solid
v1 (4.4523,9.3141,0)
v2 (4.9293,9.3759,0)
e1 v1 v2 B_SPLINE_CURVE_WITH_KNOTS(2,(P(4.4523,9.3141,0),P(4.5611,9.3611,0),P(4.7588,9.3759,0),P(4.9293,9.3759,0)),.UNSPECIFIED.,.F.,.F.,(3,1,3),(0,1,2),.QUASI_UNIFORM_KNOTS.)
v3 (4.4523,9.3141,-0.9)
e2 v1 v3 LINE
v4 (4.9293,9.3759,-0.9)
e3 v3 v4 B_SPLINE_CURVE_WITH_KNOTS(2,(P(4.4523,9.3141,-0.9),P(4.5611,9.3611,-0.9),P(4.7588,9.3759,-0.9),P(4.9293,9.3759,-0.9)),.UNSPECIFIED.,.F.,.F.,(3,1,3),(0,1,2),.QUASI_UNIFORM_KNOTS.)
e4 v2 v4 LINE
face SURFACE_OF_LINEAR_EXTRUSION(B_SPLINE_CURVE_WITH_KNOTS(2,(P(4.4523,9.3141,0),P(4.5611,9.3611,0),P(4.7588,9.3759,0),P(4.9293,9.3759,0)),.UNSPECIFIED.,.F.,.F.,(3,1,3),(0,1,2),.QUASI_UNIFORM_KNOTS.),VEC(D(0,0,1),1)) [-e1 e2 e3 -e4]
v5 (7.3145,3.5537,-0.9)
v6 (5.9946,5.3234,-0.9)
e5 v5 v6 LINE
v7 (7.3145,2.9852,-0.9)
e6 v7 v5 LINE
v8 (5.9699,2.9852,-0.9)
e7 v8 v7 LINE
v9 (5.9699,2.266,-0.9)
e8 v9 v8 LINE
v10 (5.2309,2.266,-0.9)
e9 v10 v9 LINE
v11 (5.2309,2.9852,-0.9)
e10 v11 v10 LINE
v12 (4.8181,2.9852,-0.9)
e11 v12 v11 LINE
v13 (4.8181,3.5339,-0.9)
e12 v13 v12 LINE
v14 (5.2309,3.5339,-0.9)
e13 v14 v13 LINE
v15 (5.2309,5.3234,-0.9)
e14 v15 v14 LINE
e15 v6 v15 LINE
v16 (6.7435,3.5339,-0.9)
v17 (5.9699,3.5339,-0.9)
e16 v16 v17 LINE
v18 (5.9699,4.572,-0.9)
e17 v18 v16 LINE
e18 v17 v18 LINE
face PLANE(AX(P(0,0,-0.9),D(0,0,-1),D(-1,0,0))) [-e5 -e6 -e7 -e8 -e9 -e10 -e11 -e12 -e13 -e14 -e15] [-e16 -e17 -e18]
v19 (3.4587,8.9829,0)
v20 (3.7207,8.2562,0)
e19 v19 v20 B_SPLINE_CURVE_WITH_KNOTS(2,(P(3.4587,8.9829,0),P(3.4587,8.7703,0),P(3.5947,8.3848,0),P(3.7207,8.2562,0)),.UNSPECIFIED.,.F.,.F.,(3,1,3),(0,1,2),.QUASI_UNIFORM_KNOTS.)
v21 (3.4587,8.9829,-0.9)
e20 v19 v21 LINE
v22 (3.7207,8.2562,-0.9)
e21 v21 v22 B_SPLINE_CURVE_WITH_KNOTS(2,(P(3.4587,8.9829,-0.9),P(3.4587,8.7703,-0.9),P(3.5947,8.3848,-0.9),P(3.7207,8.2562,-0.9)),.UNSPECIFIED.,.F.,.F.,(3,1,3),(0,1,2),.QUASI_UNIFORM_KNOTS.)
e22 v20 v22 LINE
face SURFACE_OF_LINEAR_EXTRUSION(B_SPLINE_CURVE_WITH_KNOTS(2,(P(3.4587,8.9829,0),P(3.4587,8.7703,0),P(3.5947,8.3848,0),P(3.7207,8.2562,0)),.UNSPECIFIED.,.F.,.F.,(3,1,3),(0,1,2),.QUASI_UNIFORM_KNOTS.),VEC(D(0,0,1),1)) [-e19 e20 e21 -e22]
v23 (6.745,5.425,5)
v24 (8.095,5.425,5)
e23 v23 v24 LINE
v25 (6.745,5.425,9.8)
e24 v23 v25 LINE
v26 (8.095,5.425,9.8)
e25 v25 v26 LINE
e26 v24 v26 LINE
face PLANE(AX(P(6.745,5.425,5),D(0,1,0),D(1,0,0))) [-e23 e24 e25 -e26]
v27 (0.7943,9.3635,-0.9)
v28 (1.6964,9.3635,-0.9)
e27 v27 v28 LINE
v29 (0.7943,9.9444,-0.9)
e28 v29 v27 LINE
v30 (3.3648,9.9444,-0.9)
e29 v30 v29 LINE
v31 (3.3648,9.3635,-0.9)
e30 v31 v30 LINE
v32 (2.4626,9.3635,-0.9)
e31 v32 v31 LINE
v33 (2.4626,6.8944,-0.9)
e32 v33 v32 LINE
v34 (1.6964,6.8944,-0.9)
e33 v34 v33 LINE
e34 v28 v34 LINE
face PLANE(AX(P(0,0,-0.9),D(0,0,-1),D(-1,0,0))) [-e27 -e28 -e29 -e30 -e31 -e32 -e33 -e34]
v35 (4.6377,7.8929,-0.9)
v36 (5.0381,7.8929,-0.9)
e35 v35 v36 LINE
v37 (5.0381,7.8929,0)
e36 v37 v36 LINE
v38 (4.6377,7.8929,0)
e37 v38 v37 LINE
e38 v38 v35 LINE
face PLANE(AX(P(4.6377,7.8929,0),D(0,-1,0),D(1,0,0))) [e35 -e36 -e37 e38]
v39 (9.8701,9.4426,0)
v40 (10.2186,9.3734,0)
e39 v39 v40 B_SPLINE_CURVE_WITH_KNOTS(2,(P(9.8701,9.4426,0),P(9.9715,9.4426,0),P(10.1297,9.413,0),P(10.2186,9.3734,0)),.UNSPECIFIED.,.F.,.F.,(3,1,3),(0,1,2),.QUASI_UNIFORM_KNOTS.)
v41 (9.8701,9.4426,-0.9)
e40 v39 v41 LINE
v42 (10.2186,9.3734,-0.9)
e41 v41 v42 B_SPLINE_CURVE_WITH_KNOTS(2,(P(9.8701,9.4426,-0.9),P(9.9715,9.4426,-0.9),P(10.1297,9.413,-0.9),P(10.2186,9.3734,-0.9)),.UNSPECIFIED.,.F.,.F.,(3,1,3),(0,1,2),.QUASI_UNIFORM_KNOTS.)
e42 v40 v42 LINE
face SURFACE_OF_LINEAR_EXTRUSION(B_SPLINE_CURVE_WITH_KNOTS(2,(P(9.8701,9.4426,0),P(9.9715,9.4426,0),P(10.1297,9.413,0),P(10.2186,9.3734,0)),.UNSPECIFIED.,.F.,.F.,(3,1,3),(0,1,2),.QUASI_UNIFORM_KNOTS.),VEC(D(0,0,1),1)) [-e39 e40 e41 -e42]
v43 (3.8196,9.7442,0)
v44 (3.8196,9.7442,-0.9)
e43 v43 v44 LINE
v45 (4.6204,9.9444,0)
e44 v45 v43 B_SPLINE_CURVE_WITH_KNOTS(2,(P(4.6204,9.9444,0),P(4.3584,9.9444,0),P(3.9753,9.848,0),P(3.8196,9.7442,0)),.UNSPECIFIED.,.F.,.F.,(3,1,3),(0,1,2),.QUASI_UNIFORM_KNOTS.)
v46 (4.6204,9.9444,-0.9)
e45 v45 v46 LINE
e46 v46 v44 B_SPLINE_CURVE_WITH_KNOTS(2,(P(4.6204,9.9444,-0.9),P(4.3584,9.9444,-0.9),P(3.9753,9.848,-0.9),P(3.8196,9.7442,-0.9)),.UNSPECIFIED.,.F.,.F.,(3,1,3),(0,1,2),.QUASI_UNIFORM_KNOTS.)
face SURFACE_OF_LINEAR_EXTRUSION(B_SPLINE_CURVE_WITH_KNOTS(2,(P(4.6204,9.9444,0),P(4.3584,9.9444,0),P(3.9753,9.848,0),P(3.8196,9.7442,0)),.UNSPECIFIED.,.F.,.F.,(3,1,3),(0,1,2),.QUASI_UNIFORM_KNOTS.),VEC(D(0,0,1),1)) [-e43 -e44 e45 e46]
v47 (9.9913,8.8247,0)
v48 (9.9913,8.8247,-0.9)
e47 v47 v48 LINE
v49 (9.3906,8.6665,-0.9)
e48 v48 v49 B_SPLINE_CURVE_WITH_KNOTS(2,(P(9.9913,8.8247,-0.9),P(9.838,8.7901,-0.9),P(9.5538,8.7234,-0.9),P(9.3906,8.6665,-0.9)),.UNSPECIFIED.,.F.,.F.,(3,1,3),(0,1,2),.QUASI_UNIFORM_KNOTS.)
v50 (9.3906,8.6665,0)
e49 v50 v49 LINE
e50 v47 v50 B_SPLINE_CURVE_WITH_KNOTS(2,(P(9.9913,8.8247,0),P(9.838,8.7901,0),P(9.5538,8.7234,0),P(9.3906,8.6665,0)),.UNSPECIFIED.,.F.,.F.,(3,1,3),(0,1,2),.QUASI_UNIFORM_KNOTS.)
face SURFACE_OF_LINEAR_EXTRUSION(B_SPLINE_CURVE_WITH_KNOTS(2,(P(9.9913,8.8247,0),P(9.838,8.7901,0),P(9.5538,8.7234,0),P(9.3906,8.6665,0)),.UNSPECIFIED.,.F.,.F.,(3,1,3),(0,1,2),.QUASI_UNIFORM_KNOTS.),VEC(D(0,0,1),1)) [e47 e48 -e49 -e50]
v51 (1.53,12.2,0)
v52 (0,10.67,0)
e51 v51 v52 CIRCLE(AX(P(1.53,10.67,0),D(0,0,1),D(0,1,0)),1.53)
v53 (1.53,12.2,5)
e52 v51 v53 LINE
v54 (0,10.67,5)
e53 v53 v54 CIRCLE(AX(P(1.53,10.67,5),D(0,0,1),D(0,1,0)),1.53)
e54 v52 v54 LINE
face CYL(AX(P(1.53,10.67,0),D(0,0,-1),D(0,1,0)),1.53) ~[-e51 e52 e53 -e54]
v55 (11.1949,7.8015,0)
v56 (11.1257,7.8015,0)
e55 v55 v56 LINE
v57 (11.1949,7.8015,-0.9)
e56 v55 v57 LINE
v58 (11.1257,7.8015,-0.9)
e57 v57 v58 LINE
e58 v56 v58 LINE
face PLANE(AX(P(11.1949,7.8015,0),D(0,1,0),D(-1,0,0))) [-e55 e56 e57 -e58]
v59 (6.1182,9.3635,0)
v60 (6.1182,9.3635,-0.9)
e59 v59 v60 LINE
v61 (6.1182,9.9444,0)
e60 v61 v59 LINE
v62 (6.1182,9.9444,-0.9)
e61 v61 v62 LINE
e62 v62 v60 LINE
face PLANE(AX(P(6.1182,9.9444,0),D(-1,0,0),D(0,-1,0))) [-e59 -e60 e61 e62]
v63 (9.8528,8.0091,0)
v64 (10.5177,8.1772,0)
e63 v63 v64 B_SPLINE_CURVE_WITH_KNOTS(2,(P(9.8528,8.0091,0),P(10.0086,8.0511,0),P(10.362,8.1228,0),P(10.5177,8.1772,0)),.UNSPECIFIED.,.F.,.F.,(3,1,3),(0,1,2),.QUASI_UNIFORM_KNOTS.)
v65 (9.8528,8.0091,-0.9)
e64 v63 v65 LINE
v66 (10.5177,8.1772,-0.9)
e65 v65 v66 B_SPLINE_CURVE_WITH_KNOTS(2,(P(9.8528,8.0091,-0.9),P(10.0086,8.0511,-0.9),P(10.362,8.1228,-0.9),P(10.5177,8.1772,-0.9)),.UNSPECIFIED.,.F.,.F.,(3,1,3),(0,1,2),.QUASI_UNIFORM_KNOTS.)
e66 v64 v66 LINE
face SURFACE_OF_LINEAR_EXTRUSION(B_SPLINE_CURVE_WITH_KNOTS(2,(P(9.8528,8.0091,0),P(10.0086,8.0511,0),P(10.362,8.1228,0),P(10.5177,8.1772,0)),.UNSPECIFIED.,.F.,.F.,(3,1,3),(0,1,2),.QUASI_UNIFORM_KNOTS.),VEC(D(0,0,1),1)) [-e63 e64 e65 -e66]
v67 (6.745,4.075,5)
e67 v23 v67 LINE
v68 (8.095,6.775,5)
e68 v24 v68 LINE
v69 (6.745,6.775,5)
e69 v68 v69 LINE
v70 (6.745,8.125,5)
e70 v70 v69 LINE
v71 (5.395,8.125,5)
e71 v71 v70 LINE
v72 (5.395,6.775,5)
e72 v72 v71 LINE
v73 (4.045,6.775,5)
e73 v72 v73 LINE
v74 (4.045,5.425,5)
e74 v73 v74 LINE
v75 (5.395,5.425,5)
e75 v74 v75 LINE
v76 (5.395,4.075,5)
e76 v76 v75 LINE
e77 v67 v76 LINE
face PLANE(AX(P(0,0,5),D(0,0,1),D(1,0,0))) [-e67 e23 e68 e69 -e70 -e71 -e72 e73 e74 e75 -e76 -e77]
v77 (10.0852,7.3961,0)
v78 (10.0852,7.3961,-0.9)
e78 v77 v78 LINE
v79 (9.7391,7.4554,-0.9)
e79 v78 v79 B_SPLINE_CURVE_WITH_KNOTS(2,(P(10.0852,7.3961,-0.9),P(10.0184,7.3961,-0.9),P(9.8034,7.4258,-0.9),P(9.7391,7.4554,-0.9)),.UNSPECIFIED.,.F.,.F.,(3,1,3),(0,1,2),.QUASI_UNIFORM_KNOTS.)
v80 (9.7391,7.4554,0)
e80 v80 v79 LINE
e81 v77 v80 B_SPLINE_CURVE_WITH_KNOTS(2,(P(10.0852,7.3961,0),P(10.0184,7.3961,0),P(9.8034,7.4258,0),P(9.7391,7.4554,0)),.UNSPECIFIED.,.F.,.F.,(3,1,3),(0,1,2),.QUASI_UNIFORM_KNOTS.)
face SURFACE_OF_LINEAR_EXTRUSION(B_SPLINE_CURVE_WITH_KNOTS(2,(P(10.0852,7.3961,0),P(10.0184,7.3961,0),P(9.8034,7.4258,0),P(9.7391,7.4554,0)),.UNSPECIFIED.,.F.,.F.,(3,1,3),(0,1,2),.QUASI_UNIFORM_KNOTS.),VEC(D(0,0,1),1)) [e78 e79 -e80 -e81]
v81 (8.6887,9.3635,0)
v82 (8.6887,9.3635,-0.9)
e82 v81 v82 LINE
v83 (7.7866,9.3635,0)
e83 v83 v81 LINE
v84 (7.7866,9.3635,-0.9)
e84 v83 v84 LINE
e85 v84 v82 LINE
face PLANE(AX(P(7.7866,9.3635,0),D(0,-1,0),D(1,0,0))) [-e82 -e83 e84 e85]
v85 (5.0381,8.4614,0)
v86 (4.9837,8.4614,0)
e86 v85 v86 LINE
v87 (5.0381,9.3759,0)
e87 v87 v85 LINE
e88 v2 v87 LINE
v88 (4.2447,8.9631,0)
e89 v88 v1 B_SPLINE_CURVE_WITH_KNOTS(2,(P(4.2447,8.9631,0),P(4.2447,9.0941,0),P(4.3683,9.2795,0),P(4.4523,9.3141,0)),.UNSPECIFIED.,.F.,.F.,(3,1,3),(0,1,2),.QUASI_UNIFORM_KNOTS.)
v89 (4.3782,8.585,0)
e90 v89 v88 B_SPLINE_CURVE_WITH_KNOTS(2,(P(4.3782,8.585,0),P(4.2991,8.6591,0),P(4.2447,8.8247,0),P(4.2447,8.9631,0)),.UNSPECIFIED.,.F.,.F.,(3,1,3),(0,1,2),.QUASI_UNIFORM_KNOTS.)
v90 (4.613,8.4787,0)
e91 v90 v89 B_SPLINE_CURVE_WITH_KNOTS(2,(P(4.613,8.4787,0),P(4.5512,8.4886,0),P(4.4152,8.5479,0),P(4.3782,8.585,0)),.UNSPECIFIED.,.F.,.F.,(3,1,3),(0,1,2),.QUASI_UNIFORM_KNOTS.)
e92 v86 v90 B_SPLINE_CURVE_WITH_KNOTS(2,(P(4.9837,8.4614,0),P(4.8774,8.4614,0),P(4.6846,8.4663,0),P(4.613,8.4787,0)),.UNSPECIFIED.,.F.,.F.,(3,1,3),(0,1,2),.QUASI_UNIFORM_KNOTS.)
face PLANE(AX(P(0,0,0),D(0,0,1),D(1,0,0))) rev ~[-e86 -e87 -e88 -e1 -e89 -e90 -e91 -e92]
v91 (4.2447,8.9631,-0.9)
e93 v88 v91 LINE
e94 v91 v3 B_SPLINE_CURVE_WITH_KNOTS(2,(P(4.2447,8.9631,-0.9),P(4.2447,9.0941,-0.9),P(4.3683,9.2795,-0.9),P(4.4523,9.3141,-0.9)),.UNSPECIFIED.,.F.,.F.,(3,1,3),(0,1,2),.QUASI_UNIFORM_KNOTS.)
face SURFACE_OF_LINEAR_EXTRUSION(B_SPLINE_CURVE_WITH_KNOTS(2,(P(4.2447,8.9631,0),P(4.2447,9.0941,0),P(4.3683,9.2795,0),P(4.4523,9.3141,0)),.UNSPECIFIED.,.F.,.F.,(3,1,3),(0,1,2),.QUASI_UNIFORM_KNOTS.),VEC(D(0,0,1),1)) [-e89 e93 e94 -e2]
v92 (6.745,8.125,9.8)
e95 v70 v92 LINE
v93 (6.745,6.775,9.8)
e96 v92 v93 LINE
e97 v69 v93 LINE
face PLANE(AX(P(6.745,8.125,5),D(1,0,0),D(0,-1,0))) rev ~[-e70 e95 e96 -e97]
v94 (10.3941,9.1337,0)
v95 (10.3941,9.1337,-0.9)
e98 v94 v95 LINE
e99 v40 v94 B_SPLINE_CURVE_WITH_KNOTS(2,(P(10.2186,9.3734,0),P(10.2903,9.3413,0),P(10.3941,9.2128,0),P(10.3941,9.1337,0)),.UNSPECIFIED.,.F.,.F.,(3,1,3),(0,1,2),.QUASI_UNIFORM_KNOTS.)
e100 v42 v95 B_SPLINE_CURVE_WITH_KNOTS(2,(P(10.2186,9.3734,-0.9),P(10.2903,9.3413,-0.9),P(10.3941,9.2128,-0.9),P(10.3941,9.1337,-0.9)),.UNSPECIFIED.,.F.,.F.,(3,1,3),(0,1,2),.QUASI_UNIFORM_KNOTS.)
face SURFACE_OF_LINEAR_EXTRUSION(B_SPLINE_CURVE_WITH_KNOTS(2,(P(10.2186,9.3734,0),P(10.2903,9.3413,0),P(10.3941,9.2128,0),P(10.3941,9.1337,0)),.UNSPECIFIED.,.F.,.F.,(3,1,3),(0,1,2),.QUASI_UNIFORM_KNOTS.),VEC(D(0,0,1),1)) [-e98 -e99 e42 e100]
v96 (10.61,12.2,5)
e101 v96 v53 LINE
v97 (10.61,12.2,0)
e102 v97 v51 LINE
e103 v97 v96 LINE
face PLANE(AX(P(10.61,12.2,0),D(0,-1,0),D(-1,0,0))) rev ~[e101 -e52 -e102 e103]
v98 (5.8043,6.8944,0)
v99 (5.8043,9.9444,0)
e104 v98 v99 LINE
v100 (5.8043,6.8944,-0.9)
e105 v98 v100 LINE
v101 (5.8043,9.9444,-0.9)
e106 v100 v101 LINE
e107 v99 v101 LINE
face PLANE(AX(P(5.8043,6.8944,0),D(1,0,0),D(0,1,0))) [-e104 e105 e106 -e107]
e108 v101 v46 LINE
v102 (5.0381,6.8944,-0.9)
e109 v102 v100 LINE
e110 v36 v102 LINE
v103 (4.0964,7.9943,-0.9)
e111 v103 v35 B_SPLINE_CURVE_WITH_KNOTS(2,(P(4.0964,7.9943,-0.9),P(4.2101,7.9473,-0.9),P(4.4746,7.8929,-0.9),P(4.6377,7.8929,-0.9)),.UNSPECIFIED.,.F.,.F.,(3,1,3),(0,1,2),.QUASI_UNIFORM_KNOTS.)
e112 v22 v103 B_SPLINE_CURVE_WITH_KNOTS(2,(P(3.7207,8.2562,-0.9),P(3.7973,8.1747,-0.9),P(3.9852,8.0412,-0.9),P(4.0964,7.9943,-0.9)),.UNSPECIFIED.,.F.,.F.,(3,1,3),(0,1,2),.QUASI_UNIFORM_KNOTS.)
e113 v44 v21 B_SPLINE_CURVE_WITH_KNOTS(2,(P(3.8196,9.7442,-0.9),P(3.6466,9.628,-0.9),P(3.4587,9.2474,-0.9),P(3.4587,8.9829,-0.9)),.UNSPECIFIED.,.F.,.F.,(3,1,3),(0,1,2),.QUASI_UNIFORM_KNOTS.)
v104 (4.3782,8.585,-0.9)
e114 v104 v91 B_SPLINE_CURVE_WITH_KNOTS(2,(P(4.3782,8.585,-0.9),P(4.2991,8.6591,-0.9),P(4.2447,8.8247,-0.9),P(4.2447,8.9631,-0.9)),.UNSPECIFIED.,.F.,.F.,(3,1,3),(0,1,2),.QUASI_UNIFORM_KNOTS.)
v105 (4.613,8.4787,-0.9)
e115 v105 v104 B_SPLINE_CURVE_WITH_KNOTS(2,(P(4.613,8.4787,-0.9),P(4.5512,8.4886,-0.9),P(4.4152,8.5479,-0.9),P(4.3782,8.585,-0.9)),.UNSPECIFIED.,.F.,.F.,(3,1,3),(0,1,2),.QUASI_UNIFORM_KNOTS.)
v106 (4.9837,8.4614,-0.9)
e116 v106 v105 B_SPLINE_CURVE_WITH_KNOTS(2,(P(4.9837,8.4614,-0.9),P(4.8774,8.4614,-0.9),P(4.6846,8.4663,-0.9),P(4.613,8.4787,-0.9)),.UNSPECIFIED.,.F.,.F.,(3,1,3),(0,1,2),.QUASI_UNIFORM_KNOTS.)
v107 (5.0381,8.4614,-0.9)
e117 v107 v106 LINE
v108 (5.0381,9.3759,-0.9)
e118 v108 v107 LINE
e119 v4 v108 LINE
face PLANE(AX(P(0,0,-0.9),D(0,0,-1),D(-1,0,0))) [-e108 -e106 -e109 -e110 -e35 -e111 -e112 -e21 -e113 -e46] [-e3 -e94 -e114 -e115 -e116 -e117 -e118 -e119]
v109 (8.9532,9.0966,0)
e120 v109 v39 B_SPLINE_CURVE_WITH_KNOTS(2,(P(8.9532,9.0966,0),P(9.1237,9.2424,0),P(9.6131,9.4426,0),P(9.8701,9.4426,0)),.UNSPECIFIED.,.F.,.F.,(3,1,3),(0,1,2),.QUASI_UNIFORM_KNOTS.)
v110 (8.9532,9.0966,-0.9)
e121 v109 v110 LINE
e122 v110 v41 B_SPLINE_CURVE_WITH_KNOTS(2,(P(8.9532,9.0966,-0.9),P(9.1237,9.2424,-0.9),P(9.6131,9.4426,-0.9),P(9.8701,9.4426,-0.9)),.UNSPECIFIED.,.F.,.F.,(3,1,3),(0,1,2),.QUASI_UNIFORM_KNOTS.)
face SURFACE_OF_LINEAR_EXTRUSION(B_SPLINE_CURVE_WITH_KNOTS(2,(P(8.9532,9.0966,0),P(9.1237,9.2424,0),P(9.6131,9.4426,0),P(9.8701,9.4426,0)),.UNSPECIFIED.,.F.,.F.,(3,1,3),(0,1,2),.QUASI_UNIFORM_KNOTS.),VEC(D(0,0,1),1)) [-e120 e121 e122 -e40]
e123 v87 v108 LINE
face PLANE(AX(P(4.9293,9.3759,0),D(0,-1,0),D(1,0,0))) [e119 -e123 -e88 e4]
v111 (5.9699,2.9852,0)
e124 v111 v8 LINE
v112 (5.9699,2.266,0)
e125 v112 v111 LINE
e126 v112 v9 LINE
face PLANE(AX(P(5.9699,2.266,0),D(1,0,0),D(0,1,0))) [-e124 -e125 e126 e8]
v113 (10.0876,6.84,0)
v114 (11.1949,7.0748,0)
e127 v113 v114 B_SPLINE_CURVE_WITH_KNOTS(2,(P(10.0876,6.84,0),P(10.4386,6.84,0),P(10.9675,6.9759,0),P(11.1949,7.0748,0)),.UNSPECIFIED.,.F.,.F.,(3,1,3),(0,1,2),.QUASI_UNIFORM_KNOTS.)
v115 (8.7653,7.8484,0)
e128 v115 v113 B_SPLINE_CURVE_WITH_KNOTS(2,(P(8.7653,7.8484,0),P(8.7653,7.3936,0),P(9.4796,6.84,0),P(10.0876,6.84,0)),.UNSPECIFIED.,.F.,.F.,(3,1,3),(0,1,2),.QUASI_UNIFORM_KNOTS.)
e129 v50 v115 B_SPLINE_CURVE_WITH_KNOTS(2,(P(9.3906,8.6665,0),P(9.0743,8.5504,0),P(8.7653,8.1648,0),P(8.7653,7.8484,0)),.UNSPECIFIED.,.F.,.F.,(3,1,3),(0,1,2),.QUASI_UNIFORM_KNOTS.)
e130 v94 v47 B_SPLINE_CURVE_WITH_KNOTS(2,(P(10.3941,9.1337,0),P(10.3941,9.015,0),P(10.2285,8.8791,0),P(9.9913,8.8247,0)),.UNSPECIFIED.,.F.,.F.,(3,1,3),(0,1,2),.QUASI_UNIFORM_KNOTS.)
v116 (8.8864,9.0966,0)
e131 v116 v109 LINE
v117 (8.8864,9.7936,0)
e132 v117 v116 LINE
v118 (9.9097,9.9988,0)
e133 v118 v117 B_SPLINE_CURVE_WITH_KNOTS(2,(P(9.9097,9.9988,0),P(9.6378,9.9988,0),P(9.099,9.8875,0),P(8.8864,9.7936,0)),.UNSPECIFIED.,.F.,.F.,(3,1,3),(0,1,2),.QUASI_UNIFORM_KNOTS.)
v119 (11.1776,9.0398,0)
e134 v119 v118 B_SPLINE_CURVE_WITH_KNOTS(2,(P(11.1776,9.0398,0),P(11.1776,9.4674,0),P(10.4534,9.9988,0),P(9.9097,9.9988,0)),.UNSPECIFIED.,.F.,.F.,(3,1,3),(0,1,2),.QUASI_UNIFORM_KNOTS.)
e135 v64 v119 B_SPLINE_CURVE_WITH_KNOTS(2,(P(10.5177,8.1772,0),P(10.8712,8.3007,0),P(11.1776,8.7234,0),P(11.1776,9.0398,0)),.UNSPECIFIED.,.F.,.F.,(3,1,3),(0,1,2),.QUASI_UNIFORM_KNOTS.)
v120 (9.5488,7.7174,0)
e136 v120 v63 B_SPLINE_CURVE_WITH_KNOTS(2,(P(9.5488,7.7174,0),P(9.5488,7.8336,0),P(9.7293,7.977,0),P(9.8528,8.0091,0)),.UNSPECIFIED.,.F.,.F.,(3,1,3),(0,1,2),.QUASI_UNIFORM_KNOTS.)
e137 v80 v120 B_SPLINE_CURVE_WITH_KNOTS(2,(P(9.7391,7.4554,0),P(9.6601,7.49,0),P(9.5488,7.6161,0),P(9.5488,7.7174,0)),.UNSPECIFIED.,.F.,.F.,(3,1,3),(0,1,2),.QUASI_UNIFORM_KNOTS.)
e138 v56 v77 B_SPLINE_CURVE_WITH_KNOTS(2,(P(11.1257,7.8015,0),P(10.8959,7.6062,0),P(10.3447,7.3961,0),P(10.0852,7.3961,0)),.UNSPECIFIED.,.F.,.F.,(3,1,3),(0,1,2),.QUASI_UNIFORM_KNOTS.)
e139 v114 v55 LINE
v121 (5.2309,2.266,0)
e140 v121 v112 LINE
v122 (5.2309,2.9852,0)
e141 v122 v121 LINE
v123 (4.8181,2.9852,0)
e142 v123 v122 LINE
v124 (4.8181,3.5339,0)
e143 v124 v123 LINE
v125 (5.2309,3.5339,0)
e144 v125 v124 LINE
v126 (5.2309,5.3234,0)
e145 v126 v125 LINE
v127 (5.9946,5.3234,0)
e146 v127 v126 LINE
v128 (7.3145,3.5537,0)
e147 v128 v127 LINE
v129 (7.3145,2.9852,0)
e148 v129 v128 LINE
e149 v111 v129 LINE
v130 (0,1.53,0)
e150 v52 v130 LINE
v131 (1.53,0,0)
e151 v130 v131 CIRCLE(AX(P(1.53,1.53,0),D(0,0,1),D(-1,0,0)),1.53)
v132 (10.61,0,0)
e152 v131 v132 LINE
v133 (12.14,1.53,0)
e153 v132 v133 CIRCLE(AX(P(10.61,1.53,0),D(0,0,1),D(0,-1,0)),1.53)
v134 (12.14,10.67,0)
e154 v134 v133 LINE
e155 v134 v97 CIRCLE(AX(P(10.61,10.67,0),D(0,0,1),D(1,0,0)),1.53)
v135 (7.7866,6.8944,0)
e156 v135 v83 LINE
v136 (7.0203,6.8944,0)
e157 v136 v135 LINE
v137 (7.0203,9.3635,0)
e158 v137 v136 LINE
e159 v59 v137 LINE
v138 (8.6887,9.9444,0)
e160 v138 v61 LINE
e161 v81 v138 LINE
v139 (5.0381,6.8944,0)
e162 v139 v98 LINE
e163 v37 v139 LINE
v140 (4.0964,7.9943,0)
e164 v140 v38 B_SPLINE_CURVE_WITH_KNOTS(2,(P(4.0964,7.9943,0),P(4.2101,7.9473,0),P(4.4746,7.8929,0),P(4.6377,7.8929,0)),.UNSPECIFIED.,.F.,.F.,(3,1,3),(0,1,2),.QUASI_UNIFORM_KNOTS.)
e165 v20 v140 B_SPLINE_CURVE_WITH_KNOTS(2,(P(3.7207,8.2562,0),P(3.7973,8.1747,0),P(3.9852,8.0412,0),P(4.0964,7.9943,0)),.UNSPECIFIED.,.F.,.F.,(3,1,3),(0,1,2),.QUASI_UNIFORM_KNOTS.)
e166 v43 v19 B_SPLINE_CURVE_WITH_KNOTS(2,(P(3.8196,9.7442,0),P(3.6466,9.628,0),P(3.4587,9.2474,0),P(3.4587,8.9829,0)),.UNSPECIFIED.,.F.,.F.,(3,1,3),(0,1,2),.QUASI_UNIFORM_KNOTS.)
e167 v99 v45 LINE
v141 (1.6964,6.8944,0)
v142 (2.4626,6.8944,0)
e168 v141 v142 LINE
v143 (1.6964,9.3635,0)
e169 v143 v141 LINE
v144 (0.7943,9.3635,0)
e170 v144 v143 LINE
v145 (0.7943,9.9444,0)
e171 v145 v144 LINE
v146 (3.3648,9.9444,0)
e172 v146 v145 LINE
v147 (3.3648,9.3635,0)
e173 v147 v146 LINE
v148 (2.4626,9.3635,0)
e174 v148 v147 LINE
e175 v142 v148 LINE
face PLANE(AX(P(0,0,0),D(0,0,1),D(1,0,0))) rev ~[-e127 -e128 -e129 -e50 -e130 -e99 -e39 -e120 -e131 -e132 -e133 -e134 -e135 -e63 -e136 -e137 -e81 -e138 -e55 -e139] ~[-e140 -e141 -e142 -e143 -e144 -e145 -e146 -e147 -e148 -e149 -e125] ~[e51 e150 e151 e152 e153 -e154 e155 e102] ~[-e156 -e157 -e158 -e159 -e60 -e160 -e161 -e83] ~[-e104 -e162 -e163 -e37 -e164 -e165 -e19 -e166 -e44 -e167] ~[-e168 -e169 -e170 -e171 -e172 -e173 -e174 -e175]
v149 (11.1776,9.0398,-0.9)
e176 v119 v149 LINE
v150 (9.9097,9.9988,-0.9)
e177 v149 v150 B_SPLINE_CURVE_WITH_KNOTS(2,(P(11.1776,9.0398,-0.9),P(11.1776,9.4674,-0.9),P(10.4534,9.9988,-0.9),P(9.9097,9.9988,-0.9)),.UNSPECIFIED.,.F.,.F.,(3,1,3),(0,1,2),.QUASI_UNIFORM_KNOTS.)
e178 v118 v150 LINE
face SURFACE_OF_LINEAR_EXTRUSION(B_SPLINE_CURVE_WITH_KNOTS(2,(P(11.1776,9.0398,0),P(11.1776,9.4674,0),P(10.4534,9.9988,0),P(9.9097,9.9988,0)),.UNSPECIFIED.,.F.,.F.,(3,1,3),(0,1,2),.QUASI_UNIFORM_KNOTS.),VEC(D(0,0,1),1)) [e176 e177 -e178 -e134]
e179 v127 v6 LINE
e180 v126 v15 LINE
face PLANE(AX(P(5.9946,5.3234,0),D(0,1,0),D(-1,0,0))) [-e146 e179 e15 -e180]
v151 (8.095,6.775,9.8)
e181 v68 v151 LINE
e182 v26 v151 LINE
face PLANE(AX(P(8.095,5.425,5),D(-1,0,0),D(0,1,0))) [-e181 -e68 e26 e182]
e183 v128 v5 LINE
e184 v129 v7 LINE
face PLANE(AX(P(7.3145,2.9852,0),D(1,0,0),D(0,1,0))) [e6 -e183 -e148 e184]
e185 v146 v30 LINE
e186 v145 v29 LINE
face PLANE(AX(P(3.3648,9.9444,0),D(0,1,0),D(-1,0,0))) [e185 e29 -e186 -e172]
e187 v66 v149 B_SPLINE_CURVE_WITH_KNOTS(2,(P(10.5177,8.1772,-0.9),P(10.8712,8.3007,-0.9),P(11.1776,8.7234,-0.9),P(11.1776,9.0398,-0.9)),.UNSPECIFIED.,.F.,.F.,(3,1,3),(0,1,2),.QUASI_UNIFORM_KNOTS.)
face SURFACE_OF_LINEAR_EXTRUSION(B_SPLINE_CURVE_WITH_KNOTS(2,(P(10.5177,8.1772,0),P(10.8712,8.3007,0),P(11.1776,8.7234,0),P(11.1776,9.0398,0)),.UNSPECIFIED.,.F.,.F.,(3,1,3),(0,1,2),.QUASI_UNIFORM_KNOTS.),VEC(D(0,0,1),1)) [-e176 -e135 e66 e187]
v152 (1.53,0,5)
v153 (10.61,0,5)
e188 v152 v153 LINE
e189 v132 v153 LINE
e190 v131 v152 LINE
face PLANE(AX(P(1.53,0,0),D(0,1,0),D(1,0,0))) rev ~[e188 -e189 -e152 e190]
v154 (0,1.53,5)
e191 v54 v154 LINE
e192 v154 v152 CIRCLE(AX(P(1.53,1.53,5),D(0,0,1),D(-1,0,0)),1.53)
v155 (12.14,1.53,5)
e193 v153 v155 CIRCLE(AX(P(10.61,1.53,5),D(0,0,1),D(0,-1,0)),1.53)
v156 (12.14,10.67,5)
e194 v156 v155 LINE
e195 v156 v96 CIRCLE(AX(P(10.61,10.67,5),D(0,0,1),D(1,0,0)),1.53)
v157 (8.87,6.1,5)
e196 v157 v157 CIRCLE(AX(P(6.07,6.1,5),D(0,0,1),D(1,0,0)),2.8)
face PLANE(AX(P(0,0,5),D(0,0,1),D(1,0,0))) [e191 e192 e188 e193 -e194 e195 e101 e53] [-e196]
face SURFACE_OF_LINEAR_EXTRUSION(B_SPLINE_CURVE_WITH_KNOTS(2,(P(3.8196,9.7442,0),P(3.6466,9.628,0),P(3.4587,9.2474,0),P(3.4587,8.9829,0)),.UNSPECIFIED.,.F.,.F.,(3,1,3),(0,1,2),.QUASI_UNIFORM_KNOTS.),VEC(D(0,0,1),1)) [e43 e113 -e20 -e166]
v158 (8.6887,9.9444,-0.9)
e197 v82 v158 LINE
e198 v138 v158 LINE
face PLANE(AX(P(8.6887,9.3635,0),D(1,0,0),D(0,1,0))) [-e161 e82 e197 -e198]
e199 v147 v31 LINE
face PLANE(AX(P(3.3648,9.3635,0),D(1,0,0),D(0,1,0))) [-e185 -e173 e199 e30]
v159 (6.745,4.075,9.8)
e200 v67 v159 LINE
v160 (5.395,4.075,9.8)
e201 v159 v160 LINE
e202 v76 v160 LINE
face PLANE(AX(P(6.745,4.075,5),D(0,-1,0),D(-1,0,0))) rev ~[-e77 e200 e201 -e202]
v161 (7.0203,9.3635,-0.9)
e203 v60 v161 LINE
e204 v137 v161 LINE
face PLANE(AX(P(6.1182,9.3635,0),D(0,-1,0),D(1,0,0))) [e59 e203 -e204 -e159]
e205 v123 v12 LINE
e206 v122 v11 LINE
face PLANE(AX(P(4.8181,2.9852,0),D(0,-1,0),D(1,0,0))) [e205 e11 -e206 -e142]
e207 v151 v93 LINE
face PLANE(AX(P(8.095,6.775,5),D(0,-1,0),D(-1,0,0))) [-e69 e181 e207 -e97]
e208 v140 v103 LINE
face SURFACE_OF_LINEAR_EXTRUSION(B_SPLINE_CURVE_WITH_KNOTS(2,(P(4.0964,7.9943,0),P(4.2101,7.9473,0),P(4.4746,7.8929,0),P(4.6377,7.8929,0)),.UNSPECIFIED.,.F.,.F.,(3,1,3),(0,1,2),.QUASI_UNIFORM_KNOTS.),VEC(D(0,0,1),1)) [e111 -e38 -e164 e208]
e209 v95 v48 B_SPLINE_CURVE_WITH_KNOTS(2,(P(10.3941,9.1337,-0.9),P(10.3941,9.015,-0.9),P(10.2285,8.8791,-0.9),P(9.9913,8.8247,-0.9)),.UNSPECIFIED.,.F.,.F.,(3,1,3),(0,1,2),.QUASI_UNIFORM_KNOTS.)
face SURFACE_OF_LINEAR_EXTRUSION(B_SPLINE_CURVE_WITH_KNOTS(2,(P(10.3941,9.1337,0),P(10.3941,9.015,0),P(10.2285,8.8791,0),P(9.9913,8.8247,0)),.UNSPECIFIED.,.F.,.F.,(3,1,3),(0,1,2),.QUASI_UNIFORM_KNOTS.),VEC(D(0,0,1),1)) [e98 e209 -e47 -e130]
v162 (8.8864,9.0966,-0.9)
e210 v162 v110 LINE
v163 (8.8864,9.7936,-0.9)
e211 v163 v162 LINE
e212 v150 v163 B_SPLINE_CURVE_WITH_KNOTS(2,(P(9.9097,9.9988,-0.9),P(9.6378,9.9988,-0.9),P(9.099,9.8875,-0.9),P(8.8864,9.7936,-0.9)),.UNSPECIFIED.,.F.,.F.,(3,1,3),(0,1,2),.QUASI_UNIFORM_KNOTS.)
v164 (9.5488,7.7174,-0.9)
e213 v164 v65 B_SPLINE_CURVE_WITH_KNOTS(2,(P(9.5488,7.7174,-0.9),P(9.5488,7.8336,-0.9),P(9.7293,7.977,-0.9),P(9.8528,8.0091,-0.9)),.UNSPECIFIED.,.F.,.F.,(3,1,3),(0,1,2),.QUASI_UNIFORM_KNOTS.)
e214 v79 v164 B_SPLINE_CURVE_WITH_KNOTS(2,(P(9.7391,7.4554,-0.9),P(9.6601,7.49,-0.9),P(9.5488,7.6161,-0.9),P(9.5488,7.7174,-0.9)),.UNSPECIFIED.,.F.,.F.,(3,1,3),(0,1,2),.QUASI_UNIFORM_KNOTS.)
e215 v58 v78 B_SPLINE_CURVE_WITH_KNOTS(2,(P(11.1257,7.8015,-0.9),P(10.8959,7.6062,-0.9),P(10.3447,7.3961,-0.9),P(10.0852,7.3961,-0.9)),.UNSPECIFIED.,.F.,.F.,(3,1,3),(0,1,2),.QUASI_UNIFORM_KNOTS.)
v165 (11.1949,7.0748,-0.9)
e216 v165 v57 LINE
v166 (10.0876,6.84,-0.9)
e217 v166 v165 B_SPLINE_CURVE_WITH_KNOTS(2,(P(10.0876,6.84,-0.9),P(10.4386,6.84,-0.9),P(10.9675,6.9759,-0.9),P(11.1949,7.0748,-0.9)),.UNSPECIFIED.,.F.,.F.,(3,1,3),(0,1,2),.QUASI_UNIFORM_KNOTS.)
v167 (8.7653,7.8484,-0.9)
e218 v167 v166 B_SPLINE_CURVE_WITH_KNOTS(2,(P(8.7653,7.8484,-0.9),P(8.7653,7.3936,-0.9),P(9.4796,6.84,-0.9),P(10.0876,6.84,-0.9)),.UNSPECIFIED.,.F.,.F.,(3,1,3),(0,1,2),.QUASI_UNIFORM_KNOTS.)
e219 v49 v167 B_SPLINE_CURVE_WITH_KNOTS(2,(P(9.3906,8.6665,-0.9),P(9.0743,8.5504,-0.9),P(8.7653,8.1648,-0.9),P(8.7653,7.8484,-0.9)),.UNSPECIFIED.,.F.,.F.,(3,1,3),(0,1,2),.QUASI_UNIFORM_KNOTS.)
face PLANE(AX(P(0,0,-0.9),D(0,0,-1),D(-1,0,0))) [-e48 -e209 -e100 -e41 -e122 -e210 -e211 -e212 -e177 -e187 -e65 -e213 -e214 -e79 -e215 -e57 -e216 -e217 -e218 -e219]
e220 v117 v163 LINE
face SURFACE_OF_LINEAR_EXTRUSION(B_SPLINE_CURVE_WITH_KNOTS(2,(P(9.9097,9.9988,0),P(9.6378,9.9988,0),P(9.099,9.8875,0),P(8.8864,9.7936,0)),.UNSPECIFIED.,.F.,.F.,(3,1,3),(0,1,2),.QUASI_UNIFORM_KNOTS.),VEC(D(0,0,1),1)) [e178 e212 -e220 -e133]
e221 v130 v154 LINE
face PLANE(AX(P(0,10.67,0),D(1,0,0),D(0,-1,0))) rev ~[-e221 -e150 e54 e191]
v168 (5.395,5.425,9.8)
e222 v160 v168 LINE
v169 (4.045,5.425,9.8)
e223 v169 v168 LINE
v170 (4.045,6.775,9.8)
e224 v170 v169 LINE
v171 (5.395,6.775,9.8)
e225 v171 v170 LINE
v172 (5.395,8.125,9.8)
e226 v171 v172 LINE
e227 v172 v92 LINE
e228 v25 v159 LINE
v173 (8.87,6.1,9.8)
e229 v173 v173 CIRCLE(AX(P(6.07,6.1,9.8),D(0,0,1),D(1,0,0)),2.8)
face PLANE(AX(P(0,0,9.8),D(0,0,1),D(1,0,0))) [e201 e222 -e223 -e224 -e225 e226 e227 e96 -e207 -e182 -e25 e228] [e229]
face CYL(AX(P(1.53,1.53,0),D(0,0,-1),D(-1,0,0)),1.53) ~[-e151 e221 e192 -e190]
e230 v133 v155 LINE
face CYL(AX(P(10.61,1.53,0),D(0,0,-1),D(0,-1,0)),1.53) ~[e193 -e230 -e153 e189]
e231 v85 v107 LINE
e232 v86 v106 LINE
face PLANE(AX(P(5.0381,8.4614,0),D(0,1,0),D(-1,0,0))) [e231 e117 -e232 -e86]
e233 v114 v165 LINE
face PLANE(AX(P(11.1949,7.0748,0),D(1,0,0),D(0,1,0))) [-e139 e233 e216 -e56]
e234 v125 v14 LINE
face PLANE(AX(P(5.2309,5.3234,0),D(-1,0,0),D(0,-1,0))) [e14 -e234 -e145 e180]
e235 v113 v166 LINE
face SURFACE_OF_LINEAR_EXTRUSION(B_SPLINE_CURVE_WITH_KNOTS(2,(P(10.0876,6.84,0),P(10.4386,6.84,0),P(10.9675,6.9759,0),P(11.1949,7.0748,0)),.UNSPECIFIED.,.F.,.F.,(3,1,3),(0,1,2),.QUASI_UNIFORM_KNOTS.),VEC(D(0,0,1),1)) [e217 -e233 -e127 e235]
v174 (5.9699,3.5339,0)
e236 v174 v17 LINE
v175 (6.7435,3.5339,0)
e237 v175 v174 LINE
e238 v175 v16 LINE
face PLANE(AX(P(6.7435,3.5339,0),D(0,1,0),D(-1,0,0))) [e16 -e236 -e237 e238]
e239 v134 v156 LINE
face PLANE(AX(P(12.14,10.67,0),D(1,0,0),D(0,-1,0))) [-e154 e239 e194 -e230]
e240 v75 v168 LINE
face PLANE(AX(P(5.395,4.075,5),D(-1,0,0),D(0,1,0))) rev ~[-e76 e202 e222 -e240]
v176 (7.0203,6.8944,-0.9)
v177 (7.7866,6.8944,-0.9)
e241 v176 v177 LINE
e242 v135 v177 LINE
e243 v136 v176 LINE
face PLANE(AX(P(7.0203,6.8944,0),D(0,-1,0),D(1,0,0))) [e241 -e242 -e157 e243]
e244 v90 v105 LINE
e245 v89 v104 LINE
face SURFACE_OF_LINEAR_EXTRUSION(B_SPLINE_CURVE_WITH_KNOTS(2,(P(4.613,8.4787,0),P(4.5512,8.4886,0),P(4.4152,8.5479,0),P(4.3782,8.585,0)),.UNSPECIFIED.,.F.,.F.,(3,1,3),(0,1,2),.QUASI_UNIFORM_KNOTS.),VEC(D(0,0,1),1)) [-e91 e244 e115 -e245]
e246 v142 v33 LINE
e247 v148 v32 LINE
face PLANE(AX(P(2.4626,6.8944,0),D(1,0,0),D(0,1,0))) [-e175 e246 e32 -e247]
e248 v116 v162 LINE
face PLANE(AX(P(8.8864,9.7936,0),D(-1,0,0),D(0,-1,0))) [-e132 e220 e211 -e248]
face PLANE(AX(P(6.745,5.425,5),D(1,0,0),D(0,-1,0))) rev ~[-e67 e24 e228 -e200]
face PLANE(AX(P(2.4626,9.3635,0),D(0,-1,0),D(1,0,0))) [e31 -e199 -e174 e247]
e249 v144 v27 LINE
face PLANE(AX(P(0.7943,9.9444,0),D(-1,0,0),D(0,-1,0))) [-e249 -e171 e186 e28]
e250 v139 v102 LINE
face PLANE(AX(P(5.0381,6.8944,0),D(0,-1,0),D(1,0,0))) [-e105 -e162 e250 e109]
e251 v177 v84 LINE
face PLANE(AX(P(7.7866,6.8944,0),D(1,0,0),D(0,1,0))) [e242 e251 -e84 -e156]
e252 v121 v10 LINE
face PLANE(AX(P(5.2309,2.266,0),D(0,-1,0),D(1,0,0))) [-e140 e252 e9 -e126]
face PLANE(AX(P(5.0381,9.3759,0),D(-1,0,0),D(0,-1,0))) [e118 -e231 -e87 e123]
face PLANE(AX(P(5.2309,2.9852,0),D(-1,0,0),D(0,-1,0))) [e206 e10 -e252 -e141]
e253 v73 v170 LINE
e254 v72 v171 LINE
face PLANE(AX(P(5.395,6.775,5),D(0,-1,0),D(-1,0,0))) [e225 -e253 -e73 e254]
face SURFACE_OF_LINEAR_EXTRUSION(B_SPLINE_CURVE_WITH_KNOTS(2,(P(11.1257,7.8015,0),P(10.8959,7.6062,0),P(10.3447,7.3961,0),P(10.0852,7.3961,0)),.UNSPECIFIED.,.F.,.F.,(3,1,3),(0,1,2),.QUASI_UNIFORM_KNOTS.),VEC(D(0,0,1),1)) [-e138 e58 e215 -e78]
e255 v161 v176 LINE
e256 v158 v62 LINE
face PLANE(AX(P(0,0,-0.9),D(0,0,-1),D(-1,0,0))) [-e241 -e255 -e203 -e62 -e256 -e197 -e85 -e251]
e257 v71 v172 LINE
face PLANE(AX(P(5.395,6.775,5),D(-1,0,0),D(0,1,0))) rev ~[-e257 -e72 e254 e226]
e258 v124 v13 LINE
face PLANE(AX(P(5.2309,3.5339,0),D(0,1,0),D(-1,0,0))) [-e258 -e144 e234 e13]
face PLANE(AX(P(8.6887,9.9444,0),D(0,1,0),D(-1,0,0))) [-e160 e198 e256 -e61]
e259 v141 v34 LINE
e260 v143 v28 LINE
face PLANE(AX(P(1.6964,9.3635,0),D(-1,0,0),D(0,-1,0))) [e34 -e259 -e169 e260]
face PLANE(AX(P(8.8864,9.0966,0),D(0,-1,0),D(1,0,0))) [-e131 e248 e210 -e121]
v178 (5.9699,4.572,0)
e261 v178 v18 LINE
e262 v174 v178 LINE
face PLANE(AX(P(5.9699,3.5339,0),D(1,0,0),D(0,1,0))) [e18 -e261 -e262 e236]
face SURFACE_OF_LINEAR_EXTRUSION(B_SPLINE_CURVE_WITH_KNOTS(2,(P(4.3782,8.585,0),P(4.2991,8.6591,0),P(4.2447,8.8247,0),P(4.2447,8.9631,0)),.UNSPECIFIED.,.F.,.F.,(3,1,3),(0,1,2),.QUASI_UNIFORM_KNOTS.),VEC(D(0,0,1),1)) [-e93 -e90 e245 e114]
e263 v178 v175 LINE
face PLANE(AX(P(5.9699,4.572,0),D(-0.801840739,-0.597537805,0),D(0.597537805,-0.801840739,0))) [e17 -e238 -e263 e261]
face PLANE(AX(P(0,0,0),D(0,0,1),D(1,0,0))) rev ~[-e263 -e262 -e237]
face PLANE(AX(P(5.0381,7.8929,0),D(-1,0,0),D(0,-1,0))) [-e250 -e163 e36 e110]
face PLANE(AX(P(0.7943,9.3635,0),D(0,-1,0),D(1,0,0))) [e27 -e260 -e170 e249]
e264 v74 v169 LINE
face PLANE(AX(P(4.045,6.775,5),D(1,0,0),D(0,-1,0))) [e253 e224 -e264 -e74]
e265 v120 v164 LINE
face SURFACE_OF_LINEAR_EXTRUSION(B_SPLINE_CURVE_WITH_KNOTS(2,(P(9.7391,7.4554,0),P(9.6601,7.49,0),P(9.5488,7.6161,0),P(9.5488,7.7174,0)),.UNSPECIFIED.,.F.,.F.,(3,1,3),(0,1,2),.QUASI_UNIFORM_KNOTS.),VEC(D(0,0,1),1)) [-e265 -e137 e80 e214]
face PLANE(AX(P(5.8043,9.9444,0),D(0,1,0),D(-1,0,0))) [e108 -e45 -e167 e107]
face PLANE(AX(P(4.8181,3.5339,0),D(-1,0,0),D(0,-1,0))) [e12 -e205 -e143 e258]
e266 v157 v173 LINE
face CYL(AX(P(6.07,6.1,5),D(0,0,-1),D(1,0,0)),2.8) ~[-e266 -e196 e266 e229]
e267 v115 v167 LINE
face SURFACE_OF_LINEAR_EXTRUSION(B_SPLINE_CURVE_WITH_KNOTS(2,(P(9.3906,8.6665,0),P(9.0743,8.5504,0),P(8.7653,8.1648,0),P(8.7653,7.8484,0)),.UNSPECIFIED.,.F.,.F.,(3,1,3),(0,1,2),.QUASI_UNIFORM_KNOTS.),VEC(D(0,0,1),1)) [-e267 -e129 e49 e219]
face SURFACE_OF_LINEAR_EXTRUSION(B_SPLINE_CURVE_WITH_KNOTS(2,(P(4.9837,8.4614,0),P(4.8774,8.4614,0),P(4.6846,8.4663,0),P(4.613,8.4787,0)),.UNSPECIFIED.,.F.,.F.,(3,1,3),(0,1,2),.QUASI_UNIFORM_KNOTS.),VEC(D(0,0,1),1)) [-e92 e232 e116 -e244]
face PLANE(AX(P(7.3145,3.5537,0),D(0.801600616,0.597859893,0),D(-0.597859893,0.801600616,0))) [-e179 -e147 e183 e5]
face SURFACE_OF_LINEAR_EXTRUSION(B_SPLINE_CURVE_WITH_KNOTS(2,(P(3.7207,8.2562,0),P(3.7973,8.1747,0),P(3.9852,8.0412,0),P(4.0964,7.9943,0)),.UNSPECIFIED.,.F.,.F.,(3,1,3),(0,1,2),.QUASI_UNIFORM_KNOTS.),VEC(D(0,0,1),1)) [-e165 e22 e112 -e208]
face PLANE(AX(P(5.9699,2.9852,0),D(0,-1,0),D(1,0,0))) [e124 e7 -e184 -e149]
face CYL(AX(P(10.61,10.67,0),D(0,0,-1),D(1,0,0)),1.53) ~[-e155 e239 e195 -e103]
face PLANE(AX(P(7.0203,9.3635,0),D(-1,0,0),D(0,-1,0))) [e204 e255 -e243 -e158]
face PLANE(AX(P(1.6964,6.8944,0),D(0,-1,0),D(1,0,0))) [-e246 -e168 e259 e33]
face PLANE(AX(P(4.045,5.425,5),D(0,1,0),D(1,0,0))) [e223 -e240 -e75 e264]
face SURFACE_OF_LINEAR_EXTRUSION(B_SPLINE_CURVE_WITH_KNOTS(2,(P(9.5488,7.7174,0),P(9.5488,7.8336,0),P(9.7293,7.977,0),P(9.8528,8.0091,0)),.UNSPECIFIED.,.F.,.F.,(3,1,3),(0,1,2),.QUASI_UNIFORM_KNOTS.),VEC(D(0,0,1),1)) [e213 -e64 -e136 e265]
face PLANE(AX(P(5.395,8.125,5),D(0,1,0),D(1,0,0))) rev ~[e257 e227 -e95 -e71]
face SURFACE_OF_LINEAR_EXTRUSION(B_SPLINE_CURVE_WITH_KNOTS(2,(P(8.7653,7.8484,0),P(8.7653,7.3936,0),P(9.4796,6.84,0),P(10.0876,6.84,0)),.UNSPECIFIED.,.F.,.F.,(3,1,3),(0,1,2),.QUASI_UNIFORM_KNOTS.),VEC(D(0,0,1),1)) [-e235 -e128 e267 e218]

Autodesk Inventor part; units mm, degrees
ref_plane "YZ Plane" through (0, 0, 0) normal (1, 0, 0) x (0, 1, 0)
ref_plane "XZ Plane" through (0, 0, 0) normal (0, 1, 0) x (-1, 0, 0)
sketch "Sketch1" plane through (0, 0, 0) normal (0, 0, 1) x (1, 0, 0)
  line L0 (14.6962, 12.74) -> (14.6962, 0) construction
  line L1 (10.61, 12.2) -> (1.53, 12.2)
  arc A0 (1.53, 12.2) -> (0, 10.67) centre (1.53, 10.67) ccw
  line L2 (0, 10.67) -> (0, 1.53)
  arc A1 (0, 1.53) -> (1.53, 0) centre (1.53, 1.53) ccw
  line L3 (1.53, 0) -> (10.61, 0)
  arc A2 (10.61, 0) -> (12.14, 1.53) centre (10.61, 1.53) ccw
  arc A3 (12.14, 10.67) -> (10.61, 12.2) centre (10.61, 10.67) ccw
  line L4 (12.14, 10.67) -> (12.14, 1.53)
  point P0 (0, 0)
  point P1 (0, 0)
  dimension "d10" = 12.74
ref_plane "Work Plane1" through (0, 0, 5) normal (0, 0, 1) x (1, 0, 0)
sketch "Sketch2" plane through (0, 0, 5) normal (0, 0, 1) x (1, 0, 0)
  line L0 (10.88, 12.74) -> (1.8, 12.74) projected
  line L1 (10.88, 12.74) -> (1.8, 12.74) projected
  arc A0 (1.8, 12.74) -> (0, 10.94) centre (1.8, 10.94) ccw projected
  line L2 (0, 10.94) -> (0, 1.8) projected
  arc A1 (0, 1.8) -> (1.8, 0) centre (1.8, 1.8) ccw projected
  line L3 (1.8, 0) -> (10.88, 0) projected
  arc A2 (10.88, 0) -> (12.68, 1.8) centre (10.88, 1.8) ccw projected
  line L4 (12.68, 1.8) -> (12.68, 10.94) projected
  arc A3 (12.68, 10.94) -> (10.88, 12.74) centre (10.88, 10.94) ccw projected
  circle A4 centre (6.34, 6.37) radius 2.8
  line L5 (5.665, 8.395) -> (7.015, 8.395)
  line L6 (7.015, 4.345) -> (5.665, 4.345)
  line L7 (5.665, 4.345) -> (7.015, 8.395) construction
  line L8 (5.665, 8.395) -> (7.015, 4.345) construction
  line L9 (8.365, 5.695) -> (8.365, 7.045)
  line L10 (4.315, 7.045) -> (4.315, 5.695)
  line L11 (4.315, 5.695) -> (8.365, 7.045) construction
  line L12 (8.365, 5.695) -> (4.315, 7.045) construction
  line L13 (4.315, 5.695) -> (5.665, 5.695)
  line L14 (7.015, 5.695) -> (8.365, 5.695)
  line L15 (5.665, 4.345) -> (5.665, 5.695)
  line L16 (5.665, 7.045) -> (5.665, 8.395)
  line L17 (8.365, 7.045) -> (7.015, 7.045)
  line L18 (5.665, 7.045) -> (4.315, 7.045)
  line L19 (7.015, 8.395) -> (7.015, 7.045)
  line L20 (7.015, 5.695) -> (7.015, 4.345)
  point P0 (0, 0)
  dimension "d12" = 5
  dimension "d3" = 5.6
  dimension "d4" = 4.05
  dimension "d5" = 1.35
  dimension "d6" = 4.05
  dimension "d7" = 1.35
extrude "Extrusion3" add sketch "Sketch1" along normal blind 5
sketch "Sketch3" plane through (0, 0, 5) normal (0, 0, 1) x (1, 0, 0)
  line L0 (10.61, 12.47) -> (1.53, 12.47)
  line L1 (10.61, 12.47) -> (1.53, 12.47)
  arc A0 (1.53, 12.47) -> (-0.27, 10.67) centre (1.53, 10.67) ccw
  line L2 (-0.27, 10.67) -> (-0.27, 1.53)
  arc A1 (-0.27, 1.53) -> (1.53, -0.27) centre (1.53, 1.53) ccw
  line L3 (1.53, -0.27) -> (10.61, -0.27)
  arc A2 (10.61, -0.27) -> (12.41, 1.53) centre (10.61, 1.53) ccw
  line L4 (12.41, 1.53) -> (12.41, 10.67)
  arc A3 (12.41, 10.67) -> (10.61, 12.47) centre (10.61, 10.67) ccw
  circle A4 centre (6.07, 6.1) radius 2.8
  line L5 (5.395, 8.125) -> (6.745, 8.125)
  line L6 (6.745, 4.075) -> (5.395, 4.075)
  line L7 (5.395, 4.075) -> (6.745, 8.125) construction
  line L8 (5.395, 8.125) -> (6.745, 4.075) construction
  line L9 (8.095, 5.425) -> (8.095, 6.775)
  line L10 (4.045, 6.775) -> (4.045, 5.425)
  line L11 (4.045, 5.425) -> (8.095, 6.775) construction
  line L12 (8.095, 5.425) -> (4.045, 6.775) construction
  line L13 (4.045, 5.425) -> (5.395, 5.425)
  line L14 (6.745, 5.425) -> (8.095, 5.425)
  line L15 (5.395, 4.075) -> (5.395, 5.425)
  line L16 (5.395, 6.775) -> (5.395, 8.125)
  line L17 (8.095, 6.775) -> (6.745, 6.775)
  line L18 (5.395, 6.775) -> (4.045, 6.775)
  line L19 (6.745, 8.125) -> (6.745, 6.775)
  line L20 (6.745, 5.425) -> (6.745, 4.075)
  line L21 (10.61, 12.2) -> (1.53, 12.2) projected
  line L22 (0, 10.67) -> (0, 1.53) projected
  point P0 (0, 0)
  point P1 (-0.27, -0.27)
  point P2 (6.07, 12.2)
  point P3 (0, 6.1)
  point P4 (6.07, 6.1)
  dimension "d14" = 5.6
  dimension "d15" = 4.05
  dimension "d16" = 1.35
  dimension "d17" = 4.05
  dimension "d18" = 1.35
extrude "Extrusion4" add sketch "Sketch3" along normal blind 4.8 contours A4
sketch "Sketch4" plane through (0, 0, 0) normal (0, 0, -1) x (-1, 0, 0)
  line L0 (-13.9436, 0) -> (-13.9436, 2.266)
  line L1 (-15.5559, 0) -> (-15.5559, 6.84)
  line L2 (-1.53, 0) -> (-10.61, 0) projected
  line L3 (-11.3457, 9.9988) -> (-0.7943, 9.9988) construction
  line L4 (-0.7943, 9.9988) -> (-0.7943, 6.84) construction
  line L5 (-0.7943, 6.84) -> (-11.3457, 6.84) construction
  line L6 (-11.3457, 6.84) -> (-11.3457, 9.9988) construction
  line L7 (-7.4059, 5.3234) -> (-4.7341, 5.3234) construction
  line L8 (-4.7341, 5.3234) -> (-4.7341, 2.266) construction
  line L9 (-4.7341, 2.266) -> (-7.4059, 2.266) construction
  line L10 (-7.4059, 2.266) -> (-7.4059, 5.3234) construction
  spline S0 degree 2 poles (-10.0876, 6.84) (-10.4386, 6.84) (-10.9675, 6.9759) (-11.1949, 7.0748) knots 0 0 0 1 2 2 2
  line L11 (-11.1949, 7.0748) -> (-11.1949, 7.8015)
  line L12 (-11.1949, 7.8015) -> (-11.1257, 7.8015)
  spline S1 degree 2 poles (-11.1257, 7.8015) (-10.8959, 7.6062) (-10.3447, 7.3961) (-10.0852, 7.3961) knots 0 0 0 1 2 2 2
  spline S2 degree 2 poles (-10.0852, 7.3961) (-10.0184, 7.3961) (-9.8034, 7.4258) (-9.7391, 7.4554) knots 0 0 0 1 2 2 2
  spline S3 degree 2 poles (-9.7391, 7.4554) (-9.6601, 7.49) (-9.5488, 7.6161) (-9.5488, 7.7174) knots 0 0 0 1 2 2 2
  spline S4 degree 2 poles (-9.5488, 7.7174) (-9.5488, 7.8336) (-9.7293, 7.977) (-9.8528, 8.0091) knots 0 0 0 1 2 2 2
  spline S5 degree 2 poles (-9.8528, 8.0091) (-10.0086, 8.0511) (-10.362, 8.1228) (-10.5177, 8.1772) knots 0 0 0 1 2 2 2
  spline S6 degree 2 poles (-10.5177, 8.1772) (-10.8712, 8.3007) (-11.1776, 8.7234) (-11.1776, 9.0398) knots 0 0 0 1 2 2 2
  spline S7 degree 2 poles (-11.1776, 9.0398) (-11.1776, 9.4674) (-10.4534, 9.9988) (-9.9097, 9.9988) knots 0 0 0 1 2 2 2
  spline S8 degree 2 poles (-9.9097, 9.9988) (-9.6378, 9.9988) (-9.099, 9.8875) (-8.8864, 9.7936) knots 0 0 0 1 2 2 2
  line L13 (-8.8864, 9.7936) -> (-8.8864, 9.0966)
  line L14 (-8.8864, 9.0966) -> (-8.9532, 9.0966)
  spline S9 degree 2 poles (-8.9532, 9.0966) (-9.1237, 9.2424) (-9.6131, 9.4426) (-9.8701, 9.4426) knots 0 0 0 1 2 2 2
  spline S10 degree 2 poles (-9.8701, 9.4426) (-9.9715, 9.4426) (-10.1297, 9.413) (-10.2186, 9.3734) knots 0 0 0 1 2 2 2
  spline S11 degree 2 poles (-10.2186, 9.3734) (-10.2903, 9.3413) (-10.3941, 9.2128) (-10.3941, 9.1337) knots 0 0 0 1 2 2 2
  spline S12 degree 2 poles (-10.3941, 9.1337) (-10.3941, 9.015) (-10.2285, 8.8791) (-9.9913, 8.8247) knots 0 0 0 1 2 2 2
  spline S13 degree 2 poles (-9.9913, 8.8247) (-9.838, 8.7901) (-9.5538, 8.7234) (-9.3906, 8.6665) knots 0 0 0 1 2 2 2
  spline S14 degree 2 poles (-9.3906, 8.6665) (-9.0743, 8.5504) (-8.7653, 8.1648) (-8.7653, 7.8484) knots 0 0 0 1 2 2 2
  spline S15 degree 2 poles (-8.7653, 7.8484) (-8.7653, 7.3936) (-9.4796, 6.84) (-10.0876, 6.84) knots 0 0 0 1 2 2 2
  line L15 (-7.7866, 6.8944) -> (-7.7866, 9.3635)
  line L16 (-7.7866, 9.3635) -> (-8.6887, 9.3635)
  line L17 (-8.6887, 9.3635) -> (-8.6887, 9.9444)
  line L18 (-8.6887, 9.9444) -> (-6.1182, 9.9444)
  line L19 (-6.1182, 9.9444) -> (-6.1182, 9.3635)
  line L20 (-6.1182, 9.3635) -> (-7.0203, 9.3635)
  line L21 (-7.0203, 9.3635) -> (-7.0203, 6.8944)
  line L22 (-7.0203, 6.8944) -> (-7.7866, 6.8944)
  spline S16 degree 2 poles (-3.4587, 8.9829) (-3.4587, 8.7703) (-3.5947, 8.3848) (-3.7207, 8.2562) knots 0 0 0 1 2 2 2
  spline S17 degree 2 poles (-3.7207, 8.2562) (-3.7973, 8.1747) (-3.9852, 8.0412) (-4.0964, 7.9943) knots 0 0 0 1 2 2 2
  spline S18 degree 2 poles (-4.0964, 7.9943) (-4.2101, 7.9473) (-4.4746, 7.8929) (-4.6377, 7.8929) knots 0 0 0 1 2 2 2
  line L23 (-4.6377, 7.8929) -> (-5.0381, 7.8929)
  line L24 (-5.0381, 7.8929) -> (-5.0381, 6.8944)
  line L25 (-5.0381, 6.8944) -> (-5.8043, 6.8944)
  line L26 (-5.8043, 6.8944) -> (-5.8043, 9.9444)
  line L27 (-5.8043, 9.9444) -> (-4.6204, 9.9444)
  spline S19 degree 2 poles (-4.6204, 9.9444) (-4.3584, 9.9444) (-3.9753, 9.848) (-3.8196, 9.7442) knots 0 0 0 1 2 2 2
  spline S20 degree 2 poles (-3.8196, 9.7442) (-3.6466, 9.628) (-3.4587, 9.2474) (-3.4587, 8.9829) knots 0 0 0 1 2 2 2
  spline S21 degree 2 poles (-4.2447, 8.9631) (-4.2447, 9.0941) (-4.3683, 9.2795) (-4.4523, 9.3141) knots 0 0 0 1 2 2 2
  spline S22 degree 2 poles (-4.4523, 9.3141) (-4.5611, 9.3611) (-4.7588, 9.3759) (-4.9293, 9.3759) knots 0 0 0 1 2 2 2
  line L28 (-4.9293, 9.3759) -> (-5.0381, 9.3759)
  line L29 (-5.0381, 9.3759) -> (-5.0381, 8.4614)
  line L30 (-5.0381, 8.4614) -> (-4.9837, 8.4614)
  spline S23 degree 2 poles (-4.9837, 8.4614) (-4.8774, 8.4614) (-4.6846, 8.4663) (-4.613, 8.4787) knots 0 0 0 1 2 2 2
  spline S24 degree 2 poles (-4.613, 8.4787) (-4.5512, 8.4886) (-4.4152, 8.5479) (-4.3782, 8.585) knots 0 0 0 1 2 2 2
  spline S25 degree 2 poles (-4.3782, 8.585) (-4.2991, 8.6591) (-4.2447, 8.8247) (-4.2447, 8.9631) knots 0 0 0 1 2 2 2
  line L31 (-2.4626, 6.8944) -> (-2.4626, 9.3635)
  line L32 (-2.4626, 9.3635) -> (-3.3648, 9.3635)
  line L33 (-3.3648, 9.3635) -> (-3.3648, 9.9444)
  line L34 (-3.3648, 9.9444) -> (-0.7943, 9.9444)
  line L35 (-0.7943, 9.9444) -> (-0.7943, 9.3635)
  line L36 (-0.7943, 9.3635) -> (-1.6964, 9.3635)
  line L37 (-1.6964, 9.3635) -> (-1.6964, 6.8944)
  line L38 (-1.6964, 6.8944) -> (-2.4626, 6.8944)
  line L39 (-4.8181, 2.9852) -> (-5.2309, 2.9852)
  line L40 (-5.2309, 2.9852) -> (-5.2309, 2.266)
  line L41 (-5.2309, 2.266) -> (-5.9699, 2.266)
  line L42 (-5.9699, 2.266) -> (-5.9699, 2.9852)
  line L43 (-5.9699, 2.9852) -> (-7.3145, 2.9852)
  line L44 (-7.3145, 2.9852) -> (-7.3145, 3.5537)
  line L45 (-7.3145, 3.5537) -> (-5.9946, 5.3234)
  line L46 (-5.9946, 5.3234) -> (-5.2309, 5.3234)
  line L47 (-5.2309, 5.3234) -> (-5.2309, 3.5339)
  line L48 (-5.2309, 3.5339) -> (-4.8181, 3.5339)
  line L49 (-4.8181, 3.5339) -> (-4.8181, 2.9852)
  line L50 (-5.9699, 3.5339) -> (-5.9699, 4.572)
  line L51 (-5.9699, 4.572) -> (-6.7435, 3.5339)
  line L52 (-6.7435, 3.5339) -> (-5.9699, 3.5339)
  point P0 (0, 0)
  point P1 (-6.07, 0)
  point P2 (-6.07, 2.266)
  point P3 (-6.07, 6.84)
  point P4 (-6.07, 6.84)
  point P5 (-6.07, 2.266)
  dimension "d21" = 2.266
  dimension "d22" = 6.84
sketch "Sketch5" plane through (0, 0, 0) normal (0, 0, -1) x (-1, 0, 0)
  point P0 (0, 0)
extrude "Extrusion5" add sketch "Sketch4" along normal blind 0.9
properties part number "IPC STPT 4 key"
